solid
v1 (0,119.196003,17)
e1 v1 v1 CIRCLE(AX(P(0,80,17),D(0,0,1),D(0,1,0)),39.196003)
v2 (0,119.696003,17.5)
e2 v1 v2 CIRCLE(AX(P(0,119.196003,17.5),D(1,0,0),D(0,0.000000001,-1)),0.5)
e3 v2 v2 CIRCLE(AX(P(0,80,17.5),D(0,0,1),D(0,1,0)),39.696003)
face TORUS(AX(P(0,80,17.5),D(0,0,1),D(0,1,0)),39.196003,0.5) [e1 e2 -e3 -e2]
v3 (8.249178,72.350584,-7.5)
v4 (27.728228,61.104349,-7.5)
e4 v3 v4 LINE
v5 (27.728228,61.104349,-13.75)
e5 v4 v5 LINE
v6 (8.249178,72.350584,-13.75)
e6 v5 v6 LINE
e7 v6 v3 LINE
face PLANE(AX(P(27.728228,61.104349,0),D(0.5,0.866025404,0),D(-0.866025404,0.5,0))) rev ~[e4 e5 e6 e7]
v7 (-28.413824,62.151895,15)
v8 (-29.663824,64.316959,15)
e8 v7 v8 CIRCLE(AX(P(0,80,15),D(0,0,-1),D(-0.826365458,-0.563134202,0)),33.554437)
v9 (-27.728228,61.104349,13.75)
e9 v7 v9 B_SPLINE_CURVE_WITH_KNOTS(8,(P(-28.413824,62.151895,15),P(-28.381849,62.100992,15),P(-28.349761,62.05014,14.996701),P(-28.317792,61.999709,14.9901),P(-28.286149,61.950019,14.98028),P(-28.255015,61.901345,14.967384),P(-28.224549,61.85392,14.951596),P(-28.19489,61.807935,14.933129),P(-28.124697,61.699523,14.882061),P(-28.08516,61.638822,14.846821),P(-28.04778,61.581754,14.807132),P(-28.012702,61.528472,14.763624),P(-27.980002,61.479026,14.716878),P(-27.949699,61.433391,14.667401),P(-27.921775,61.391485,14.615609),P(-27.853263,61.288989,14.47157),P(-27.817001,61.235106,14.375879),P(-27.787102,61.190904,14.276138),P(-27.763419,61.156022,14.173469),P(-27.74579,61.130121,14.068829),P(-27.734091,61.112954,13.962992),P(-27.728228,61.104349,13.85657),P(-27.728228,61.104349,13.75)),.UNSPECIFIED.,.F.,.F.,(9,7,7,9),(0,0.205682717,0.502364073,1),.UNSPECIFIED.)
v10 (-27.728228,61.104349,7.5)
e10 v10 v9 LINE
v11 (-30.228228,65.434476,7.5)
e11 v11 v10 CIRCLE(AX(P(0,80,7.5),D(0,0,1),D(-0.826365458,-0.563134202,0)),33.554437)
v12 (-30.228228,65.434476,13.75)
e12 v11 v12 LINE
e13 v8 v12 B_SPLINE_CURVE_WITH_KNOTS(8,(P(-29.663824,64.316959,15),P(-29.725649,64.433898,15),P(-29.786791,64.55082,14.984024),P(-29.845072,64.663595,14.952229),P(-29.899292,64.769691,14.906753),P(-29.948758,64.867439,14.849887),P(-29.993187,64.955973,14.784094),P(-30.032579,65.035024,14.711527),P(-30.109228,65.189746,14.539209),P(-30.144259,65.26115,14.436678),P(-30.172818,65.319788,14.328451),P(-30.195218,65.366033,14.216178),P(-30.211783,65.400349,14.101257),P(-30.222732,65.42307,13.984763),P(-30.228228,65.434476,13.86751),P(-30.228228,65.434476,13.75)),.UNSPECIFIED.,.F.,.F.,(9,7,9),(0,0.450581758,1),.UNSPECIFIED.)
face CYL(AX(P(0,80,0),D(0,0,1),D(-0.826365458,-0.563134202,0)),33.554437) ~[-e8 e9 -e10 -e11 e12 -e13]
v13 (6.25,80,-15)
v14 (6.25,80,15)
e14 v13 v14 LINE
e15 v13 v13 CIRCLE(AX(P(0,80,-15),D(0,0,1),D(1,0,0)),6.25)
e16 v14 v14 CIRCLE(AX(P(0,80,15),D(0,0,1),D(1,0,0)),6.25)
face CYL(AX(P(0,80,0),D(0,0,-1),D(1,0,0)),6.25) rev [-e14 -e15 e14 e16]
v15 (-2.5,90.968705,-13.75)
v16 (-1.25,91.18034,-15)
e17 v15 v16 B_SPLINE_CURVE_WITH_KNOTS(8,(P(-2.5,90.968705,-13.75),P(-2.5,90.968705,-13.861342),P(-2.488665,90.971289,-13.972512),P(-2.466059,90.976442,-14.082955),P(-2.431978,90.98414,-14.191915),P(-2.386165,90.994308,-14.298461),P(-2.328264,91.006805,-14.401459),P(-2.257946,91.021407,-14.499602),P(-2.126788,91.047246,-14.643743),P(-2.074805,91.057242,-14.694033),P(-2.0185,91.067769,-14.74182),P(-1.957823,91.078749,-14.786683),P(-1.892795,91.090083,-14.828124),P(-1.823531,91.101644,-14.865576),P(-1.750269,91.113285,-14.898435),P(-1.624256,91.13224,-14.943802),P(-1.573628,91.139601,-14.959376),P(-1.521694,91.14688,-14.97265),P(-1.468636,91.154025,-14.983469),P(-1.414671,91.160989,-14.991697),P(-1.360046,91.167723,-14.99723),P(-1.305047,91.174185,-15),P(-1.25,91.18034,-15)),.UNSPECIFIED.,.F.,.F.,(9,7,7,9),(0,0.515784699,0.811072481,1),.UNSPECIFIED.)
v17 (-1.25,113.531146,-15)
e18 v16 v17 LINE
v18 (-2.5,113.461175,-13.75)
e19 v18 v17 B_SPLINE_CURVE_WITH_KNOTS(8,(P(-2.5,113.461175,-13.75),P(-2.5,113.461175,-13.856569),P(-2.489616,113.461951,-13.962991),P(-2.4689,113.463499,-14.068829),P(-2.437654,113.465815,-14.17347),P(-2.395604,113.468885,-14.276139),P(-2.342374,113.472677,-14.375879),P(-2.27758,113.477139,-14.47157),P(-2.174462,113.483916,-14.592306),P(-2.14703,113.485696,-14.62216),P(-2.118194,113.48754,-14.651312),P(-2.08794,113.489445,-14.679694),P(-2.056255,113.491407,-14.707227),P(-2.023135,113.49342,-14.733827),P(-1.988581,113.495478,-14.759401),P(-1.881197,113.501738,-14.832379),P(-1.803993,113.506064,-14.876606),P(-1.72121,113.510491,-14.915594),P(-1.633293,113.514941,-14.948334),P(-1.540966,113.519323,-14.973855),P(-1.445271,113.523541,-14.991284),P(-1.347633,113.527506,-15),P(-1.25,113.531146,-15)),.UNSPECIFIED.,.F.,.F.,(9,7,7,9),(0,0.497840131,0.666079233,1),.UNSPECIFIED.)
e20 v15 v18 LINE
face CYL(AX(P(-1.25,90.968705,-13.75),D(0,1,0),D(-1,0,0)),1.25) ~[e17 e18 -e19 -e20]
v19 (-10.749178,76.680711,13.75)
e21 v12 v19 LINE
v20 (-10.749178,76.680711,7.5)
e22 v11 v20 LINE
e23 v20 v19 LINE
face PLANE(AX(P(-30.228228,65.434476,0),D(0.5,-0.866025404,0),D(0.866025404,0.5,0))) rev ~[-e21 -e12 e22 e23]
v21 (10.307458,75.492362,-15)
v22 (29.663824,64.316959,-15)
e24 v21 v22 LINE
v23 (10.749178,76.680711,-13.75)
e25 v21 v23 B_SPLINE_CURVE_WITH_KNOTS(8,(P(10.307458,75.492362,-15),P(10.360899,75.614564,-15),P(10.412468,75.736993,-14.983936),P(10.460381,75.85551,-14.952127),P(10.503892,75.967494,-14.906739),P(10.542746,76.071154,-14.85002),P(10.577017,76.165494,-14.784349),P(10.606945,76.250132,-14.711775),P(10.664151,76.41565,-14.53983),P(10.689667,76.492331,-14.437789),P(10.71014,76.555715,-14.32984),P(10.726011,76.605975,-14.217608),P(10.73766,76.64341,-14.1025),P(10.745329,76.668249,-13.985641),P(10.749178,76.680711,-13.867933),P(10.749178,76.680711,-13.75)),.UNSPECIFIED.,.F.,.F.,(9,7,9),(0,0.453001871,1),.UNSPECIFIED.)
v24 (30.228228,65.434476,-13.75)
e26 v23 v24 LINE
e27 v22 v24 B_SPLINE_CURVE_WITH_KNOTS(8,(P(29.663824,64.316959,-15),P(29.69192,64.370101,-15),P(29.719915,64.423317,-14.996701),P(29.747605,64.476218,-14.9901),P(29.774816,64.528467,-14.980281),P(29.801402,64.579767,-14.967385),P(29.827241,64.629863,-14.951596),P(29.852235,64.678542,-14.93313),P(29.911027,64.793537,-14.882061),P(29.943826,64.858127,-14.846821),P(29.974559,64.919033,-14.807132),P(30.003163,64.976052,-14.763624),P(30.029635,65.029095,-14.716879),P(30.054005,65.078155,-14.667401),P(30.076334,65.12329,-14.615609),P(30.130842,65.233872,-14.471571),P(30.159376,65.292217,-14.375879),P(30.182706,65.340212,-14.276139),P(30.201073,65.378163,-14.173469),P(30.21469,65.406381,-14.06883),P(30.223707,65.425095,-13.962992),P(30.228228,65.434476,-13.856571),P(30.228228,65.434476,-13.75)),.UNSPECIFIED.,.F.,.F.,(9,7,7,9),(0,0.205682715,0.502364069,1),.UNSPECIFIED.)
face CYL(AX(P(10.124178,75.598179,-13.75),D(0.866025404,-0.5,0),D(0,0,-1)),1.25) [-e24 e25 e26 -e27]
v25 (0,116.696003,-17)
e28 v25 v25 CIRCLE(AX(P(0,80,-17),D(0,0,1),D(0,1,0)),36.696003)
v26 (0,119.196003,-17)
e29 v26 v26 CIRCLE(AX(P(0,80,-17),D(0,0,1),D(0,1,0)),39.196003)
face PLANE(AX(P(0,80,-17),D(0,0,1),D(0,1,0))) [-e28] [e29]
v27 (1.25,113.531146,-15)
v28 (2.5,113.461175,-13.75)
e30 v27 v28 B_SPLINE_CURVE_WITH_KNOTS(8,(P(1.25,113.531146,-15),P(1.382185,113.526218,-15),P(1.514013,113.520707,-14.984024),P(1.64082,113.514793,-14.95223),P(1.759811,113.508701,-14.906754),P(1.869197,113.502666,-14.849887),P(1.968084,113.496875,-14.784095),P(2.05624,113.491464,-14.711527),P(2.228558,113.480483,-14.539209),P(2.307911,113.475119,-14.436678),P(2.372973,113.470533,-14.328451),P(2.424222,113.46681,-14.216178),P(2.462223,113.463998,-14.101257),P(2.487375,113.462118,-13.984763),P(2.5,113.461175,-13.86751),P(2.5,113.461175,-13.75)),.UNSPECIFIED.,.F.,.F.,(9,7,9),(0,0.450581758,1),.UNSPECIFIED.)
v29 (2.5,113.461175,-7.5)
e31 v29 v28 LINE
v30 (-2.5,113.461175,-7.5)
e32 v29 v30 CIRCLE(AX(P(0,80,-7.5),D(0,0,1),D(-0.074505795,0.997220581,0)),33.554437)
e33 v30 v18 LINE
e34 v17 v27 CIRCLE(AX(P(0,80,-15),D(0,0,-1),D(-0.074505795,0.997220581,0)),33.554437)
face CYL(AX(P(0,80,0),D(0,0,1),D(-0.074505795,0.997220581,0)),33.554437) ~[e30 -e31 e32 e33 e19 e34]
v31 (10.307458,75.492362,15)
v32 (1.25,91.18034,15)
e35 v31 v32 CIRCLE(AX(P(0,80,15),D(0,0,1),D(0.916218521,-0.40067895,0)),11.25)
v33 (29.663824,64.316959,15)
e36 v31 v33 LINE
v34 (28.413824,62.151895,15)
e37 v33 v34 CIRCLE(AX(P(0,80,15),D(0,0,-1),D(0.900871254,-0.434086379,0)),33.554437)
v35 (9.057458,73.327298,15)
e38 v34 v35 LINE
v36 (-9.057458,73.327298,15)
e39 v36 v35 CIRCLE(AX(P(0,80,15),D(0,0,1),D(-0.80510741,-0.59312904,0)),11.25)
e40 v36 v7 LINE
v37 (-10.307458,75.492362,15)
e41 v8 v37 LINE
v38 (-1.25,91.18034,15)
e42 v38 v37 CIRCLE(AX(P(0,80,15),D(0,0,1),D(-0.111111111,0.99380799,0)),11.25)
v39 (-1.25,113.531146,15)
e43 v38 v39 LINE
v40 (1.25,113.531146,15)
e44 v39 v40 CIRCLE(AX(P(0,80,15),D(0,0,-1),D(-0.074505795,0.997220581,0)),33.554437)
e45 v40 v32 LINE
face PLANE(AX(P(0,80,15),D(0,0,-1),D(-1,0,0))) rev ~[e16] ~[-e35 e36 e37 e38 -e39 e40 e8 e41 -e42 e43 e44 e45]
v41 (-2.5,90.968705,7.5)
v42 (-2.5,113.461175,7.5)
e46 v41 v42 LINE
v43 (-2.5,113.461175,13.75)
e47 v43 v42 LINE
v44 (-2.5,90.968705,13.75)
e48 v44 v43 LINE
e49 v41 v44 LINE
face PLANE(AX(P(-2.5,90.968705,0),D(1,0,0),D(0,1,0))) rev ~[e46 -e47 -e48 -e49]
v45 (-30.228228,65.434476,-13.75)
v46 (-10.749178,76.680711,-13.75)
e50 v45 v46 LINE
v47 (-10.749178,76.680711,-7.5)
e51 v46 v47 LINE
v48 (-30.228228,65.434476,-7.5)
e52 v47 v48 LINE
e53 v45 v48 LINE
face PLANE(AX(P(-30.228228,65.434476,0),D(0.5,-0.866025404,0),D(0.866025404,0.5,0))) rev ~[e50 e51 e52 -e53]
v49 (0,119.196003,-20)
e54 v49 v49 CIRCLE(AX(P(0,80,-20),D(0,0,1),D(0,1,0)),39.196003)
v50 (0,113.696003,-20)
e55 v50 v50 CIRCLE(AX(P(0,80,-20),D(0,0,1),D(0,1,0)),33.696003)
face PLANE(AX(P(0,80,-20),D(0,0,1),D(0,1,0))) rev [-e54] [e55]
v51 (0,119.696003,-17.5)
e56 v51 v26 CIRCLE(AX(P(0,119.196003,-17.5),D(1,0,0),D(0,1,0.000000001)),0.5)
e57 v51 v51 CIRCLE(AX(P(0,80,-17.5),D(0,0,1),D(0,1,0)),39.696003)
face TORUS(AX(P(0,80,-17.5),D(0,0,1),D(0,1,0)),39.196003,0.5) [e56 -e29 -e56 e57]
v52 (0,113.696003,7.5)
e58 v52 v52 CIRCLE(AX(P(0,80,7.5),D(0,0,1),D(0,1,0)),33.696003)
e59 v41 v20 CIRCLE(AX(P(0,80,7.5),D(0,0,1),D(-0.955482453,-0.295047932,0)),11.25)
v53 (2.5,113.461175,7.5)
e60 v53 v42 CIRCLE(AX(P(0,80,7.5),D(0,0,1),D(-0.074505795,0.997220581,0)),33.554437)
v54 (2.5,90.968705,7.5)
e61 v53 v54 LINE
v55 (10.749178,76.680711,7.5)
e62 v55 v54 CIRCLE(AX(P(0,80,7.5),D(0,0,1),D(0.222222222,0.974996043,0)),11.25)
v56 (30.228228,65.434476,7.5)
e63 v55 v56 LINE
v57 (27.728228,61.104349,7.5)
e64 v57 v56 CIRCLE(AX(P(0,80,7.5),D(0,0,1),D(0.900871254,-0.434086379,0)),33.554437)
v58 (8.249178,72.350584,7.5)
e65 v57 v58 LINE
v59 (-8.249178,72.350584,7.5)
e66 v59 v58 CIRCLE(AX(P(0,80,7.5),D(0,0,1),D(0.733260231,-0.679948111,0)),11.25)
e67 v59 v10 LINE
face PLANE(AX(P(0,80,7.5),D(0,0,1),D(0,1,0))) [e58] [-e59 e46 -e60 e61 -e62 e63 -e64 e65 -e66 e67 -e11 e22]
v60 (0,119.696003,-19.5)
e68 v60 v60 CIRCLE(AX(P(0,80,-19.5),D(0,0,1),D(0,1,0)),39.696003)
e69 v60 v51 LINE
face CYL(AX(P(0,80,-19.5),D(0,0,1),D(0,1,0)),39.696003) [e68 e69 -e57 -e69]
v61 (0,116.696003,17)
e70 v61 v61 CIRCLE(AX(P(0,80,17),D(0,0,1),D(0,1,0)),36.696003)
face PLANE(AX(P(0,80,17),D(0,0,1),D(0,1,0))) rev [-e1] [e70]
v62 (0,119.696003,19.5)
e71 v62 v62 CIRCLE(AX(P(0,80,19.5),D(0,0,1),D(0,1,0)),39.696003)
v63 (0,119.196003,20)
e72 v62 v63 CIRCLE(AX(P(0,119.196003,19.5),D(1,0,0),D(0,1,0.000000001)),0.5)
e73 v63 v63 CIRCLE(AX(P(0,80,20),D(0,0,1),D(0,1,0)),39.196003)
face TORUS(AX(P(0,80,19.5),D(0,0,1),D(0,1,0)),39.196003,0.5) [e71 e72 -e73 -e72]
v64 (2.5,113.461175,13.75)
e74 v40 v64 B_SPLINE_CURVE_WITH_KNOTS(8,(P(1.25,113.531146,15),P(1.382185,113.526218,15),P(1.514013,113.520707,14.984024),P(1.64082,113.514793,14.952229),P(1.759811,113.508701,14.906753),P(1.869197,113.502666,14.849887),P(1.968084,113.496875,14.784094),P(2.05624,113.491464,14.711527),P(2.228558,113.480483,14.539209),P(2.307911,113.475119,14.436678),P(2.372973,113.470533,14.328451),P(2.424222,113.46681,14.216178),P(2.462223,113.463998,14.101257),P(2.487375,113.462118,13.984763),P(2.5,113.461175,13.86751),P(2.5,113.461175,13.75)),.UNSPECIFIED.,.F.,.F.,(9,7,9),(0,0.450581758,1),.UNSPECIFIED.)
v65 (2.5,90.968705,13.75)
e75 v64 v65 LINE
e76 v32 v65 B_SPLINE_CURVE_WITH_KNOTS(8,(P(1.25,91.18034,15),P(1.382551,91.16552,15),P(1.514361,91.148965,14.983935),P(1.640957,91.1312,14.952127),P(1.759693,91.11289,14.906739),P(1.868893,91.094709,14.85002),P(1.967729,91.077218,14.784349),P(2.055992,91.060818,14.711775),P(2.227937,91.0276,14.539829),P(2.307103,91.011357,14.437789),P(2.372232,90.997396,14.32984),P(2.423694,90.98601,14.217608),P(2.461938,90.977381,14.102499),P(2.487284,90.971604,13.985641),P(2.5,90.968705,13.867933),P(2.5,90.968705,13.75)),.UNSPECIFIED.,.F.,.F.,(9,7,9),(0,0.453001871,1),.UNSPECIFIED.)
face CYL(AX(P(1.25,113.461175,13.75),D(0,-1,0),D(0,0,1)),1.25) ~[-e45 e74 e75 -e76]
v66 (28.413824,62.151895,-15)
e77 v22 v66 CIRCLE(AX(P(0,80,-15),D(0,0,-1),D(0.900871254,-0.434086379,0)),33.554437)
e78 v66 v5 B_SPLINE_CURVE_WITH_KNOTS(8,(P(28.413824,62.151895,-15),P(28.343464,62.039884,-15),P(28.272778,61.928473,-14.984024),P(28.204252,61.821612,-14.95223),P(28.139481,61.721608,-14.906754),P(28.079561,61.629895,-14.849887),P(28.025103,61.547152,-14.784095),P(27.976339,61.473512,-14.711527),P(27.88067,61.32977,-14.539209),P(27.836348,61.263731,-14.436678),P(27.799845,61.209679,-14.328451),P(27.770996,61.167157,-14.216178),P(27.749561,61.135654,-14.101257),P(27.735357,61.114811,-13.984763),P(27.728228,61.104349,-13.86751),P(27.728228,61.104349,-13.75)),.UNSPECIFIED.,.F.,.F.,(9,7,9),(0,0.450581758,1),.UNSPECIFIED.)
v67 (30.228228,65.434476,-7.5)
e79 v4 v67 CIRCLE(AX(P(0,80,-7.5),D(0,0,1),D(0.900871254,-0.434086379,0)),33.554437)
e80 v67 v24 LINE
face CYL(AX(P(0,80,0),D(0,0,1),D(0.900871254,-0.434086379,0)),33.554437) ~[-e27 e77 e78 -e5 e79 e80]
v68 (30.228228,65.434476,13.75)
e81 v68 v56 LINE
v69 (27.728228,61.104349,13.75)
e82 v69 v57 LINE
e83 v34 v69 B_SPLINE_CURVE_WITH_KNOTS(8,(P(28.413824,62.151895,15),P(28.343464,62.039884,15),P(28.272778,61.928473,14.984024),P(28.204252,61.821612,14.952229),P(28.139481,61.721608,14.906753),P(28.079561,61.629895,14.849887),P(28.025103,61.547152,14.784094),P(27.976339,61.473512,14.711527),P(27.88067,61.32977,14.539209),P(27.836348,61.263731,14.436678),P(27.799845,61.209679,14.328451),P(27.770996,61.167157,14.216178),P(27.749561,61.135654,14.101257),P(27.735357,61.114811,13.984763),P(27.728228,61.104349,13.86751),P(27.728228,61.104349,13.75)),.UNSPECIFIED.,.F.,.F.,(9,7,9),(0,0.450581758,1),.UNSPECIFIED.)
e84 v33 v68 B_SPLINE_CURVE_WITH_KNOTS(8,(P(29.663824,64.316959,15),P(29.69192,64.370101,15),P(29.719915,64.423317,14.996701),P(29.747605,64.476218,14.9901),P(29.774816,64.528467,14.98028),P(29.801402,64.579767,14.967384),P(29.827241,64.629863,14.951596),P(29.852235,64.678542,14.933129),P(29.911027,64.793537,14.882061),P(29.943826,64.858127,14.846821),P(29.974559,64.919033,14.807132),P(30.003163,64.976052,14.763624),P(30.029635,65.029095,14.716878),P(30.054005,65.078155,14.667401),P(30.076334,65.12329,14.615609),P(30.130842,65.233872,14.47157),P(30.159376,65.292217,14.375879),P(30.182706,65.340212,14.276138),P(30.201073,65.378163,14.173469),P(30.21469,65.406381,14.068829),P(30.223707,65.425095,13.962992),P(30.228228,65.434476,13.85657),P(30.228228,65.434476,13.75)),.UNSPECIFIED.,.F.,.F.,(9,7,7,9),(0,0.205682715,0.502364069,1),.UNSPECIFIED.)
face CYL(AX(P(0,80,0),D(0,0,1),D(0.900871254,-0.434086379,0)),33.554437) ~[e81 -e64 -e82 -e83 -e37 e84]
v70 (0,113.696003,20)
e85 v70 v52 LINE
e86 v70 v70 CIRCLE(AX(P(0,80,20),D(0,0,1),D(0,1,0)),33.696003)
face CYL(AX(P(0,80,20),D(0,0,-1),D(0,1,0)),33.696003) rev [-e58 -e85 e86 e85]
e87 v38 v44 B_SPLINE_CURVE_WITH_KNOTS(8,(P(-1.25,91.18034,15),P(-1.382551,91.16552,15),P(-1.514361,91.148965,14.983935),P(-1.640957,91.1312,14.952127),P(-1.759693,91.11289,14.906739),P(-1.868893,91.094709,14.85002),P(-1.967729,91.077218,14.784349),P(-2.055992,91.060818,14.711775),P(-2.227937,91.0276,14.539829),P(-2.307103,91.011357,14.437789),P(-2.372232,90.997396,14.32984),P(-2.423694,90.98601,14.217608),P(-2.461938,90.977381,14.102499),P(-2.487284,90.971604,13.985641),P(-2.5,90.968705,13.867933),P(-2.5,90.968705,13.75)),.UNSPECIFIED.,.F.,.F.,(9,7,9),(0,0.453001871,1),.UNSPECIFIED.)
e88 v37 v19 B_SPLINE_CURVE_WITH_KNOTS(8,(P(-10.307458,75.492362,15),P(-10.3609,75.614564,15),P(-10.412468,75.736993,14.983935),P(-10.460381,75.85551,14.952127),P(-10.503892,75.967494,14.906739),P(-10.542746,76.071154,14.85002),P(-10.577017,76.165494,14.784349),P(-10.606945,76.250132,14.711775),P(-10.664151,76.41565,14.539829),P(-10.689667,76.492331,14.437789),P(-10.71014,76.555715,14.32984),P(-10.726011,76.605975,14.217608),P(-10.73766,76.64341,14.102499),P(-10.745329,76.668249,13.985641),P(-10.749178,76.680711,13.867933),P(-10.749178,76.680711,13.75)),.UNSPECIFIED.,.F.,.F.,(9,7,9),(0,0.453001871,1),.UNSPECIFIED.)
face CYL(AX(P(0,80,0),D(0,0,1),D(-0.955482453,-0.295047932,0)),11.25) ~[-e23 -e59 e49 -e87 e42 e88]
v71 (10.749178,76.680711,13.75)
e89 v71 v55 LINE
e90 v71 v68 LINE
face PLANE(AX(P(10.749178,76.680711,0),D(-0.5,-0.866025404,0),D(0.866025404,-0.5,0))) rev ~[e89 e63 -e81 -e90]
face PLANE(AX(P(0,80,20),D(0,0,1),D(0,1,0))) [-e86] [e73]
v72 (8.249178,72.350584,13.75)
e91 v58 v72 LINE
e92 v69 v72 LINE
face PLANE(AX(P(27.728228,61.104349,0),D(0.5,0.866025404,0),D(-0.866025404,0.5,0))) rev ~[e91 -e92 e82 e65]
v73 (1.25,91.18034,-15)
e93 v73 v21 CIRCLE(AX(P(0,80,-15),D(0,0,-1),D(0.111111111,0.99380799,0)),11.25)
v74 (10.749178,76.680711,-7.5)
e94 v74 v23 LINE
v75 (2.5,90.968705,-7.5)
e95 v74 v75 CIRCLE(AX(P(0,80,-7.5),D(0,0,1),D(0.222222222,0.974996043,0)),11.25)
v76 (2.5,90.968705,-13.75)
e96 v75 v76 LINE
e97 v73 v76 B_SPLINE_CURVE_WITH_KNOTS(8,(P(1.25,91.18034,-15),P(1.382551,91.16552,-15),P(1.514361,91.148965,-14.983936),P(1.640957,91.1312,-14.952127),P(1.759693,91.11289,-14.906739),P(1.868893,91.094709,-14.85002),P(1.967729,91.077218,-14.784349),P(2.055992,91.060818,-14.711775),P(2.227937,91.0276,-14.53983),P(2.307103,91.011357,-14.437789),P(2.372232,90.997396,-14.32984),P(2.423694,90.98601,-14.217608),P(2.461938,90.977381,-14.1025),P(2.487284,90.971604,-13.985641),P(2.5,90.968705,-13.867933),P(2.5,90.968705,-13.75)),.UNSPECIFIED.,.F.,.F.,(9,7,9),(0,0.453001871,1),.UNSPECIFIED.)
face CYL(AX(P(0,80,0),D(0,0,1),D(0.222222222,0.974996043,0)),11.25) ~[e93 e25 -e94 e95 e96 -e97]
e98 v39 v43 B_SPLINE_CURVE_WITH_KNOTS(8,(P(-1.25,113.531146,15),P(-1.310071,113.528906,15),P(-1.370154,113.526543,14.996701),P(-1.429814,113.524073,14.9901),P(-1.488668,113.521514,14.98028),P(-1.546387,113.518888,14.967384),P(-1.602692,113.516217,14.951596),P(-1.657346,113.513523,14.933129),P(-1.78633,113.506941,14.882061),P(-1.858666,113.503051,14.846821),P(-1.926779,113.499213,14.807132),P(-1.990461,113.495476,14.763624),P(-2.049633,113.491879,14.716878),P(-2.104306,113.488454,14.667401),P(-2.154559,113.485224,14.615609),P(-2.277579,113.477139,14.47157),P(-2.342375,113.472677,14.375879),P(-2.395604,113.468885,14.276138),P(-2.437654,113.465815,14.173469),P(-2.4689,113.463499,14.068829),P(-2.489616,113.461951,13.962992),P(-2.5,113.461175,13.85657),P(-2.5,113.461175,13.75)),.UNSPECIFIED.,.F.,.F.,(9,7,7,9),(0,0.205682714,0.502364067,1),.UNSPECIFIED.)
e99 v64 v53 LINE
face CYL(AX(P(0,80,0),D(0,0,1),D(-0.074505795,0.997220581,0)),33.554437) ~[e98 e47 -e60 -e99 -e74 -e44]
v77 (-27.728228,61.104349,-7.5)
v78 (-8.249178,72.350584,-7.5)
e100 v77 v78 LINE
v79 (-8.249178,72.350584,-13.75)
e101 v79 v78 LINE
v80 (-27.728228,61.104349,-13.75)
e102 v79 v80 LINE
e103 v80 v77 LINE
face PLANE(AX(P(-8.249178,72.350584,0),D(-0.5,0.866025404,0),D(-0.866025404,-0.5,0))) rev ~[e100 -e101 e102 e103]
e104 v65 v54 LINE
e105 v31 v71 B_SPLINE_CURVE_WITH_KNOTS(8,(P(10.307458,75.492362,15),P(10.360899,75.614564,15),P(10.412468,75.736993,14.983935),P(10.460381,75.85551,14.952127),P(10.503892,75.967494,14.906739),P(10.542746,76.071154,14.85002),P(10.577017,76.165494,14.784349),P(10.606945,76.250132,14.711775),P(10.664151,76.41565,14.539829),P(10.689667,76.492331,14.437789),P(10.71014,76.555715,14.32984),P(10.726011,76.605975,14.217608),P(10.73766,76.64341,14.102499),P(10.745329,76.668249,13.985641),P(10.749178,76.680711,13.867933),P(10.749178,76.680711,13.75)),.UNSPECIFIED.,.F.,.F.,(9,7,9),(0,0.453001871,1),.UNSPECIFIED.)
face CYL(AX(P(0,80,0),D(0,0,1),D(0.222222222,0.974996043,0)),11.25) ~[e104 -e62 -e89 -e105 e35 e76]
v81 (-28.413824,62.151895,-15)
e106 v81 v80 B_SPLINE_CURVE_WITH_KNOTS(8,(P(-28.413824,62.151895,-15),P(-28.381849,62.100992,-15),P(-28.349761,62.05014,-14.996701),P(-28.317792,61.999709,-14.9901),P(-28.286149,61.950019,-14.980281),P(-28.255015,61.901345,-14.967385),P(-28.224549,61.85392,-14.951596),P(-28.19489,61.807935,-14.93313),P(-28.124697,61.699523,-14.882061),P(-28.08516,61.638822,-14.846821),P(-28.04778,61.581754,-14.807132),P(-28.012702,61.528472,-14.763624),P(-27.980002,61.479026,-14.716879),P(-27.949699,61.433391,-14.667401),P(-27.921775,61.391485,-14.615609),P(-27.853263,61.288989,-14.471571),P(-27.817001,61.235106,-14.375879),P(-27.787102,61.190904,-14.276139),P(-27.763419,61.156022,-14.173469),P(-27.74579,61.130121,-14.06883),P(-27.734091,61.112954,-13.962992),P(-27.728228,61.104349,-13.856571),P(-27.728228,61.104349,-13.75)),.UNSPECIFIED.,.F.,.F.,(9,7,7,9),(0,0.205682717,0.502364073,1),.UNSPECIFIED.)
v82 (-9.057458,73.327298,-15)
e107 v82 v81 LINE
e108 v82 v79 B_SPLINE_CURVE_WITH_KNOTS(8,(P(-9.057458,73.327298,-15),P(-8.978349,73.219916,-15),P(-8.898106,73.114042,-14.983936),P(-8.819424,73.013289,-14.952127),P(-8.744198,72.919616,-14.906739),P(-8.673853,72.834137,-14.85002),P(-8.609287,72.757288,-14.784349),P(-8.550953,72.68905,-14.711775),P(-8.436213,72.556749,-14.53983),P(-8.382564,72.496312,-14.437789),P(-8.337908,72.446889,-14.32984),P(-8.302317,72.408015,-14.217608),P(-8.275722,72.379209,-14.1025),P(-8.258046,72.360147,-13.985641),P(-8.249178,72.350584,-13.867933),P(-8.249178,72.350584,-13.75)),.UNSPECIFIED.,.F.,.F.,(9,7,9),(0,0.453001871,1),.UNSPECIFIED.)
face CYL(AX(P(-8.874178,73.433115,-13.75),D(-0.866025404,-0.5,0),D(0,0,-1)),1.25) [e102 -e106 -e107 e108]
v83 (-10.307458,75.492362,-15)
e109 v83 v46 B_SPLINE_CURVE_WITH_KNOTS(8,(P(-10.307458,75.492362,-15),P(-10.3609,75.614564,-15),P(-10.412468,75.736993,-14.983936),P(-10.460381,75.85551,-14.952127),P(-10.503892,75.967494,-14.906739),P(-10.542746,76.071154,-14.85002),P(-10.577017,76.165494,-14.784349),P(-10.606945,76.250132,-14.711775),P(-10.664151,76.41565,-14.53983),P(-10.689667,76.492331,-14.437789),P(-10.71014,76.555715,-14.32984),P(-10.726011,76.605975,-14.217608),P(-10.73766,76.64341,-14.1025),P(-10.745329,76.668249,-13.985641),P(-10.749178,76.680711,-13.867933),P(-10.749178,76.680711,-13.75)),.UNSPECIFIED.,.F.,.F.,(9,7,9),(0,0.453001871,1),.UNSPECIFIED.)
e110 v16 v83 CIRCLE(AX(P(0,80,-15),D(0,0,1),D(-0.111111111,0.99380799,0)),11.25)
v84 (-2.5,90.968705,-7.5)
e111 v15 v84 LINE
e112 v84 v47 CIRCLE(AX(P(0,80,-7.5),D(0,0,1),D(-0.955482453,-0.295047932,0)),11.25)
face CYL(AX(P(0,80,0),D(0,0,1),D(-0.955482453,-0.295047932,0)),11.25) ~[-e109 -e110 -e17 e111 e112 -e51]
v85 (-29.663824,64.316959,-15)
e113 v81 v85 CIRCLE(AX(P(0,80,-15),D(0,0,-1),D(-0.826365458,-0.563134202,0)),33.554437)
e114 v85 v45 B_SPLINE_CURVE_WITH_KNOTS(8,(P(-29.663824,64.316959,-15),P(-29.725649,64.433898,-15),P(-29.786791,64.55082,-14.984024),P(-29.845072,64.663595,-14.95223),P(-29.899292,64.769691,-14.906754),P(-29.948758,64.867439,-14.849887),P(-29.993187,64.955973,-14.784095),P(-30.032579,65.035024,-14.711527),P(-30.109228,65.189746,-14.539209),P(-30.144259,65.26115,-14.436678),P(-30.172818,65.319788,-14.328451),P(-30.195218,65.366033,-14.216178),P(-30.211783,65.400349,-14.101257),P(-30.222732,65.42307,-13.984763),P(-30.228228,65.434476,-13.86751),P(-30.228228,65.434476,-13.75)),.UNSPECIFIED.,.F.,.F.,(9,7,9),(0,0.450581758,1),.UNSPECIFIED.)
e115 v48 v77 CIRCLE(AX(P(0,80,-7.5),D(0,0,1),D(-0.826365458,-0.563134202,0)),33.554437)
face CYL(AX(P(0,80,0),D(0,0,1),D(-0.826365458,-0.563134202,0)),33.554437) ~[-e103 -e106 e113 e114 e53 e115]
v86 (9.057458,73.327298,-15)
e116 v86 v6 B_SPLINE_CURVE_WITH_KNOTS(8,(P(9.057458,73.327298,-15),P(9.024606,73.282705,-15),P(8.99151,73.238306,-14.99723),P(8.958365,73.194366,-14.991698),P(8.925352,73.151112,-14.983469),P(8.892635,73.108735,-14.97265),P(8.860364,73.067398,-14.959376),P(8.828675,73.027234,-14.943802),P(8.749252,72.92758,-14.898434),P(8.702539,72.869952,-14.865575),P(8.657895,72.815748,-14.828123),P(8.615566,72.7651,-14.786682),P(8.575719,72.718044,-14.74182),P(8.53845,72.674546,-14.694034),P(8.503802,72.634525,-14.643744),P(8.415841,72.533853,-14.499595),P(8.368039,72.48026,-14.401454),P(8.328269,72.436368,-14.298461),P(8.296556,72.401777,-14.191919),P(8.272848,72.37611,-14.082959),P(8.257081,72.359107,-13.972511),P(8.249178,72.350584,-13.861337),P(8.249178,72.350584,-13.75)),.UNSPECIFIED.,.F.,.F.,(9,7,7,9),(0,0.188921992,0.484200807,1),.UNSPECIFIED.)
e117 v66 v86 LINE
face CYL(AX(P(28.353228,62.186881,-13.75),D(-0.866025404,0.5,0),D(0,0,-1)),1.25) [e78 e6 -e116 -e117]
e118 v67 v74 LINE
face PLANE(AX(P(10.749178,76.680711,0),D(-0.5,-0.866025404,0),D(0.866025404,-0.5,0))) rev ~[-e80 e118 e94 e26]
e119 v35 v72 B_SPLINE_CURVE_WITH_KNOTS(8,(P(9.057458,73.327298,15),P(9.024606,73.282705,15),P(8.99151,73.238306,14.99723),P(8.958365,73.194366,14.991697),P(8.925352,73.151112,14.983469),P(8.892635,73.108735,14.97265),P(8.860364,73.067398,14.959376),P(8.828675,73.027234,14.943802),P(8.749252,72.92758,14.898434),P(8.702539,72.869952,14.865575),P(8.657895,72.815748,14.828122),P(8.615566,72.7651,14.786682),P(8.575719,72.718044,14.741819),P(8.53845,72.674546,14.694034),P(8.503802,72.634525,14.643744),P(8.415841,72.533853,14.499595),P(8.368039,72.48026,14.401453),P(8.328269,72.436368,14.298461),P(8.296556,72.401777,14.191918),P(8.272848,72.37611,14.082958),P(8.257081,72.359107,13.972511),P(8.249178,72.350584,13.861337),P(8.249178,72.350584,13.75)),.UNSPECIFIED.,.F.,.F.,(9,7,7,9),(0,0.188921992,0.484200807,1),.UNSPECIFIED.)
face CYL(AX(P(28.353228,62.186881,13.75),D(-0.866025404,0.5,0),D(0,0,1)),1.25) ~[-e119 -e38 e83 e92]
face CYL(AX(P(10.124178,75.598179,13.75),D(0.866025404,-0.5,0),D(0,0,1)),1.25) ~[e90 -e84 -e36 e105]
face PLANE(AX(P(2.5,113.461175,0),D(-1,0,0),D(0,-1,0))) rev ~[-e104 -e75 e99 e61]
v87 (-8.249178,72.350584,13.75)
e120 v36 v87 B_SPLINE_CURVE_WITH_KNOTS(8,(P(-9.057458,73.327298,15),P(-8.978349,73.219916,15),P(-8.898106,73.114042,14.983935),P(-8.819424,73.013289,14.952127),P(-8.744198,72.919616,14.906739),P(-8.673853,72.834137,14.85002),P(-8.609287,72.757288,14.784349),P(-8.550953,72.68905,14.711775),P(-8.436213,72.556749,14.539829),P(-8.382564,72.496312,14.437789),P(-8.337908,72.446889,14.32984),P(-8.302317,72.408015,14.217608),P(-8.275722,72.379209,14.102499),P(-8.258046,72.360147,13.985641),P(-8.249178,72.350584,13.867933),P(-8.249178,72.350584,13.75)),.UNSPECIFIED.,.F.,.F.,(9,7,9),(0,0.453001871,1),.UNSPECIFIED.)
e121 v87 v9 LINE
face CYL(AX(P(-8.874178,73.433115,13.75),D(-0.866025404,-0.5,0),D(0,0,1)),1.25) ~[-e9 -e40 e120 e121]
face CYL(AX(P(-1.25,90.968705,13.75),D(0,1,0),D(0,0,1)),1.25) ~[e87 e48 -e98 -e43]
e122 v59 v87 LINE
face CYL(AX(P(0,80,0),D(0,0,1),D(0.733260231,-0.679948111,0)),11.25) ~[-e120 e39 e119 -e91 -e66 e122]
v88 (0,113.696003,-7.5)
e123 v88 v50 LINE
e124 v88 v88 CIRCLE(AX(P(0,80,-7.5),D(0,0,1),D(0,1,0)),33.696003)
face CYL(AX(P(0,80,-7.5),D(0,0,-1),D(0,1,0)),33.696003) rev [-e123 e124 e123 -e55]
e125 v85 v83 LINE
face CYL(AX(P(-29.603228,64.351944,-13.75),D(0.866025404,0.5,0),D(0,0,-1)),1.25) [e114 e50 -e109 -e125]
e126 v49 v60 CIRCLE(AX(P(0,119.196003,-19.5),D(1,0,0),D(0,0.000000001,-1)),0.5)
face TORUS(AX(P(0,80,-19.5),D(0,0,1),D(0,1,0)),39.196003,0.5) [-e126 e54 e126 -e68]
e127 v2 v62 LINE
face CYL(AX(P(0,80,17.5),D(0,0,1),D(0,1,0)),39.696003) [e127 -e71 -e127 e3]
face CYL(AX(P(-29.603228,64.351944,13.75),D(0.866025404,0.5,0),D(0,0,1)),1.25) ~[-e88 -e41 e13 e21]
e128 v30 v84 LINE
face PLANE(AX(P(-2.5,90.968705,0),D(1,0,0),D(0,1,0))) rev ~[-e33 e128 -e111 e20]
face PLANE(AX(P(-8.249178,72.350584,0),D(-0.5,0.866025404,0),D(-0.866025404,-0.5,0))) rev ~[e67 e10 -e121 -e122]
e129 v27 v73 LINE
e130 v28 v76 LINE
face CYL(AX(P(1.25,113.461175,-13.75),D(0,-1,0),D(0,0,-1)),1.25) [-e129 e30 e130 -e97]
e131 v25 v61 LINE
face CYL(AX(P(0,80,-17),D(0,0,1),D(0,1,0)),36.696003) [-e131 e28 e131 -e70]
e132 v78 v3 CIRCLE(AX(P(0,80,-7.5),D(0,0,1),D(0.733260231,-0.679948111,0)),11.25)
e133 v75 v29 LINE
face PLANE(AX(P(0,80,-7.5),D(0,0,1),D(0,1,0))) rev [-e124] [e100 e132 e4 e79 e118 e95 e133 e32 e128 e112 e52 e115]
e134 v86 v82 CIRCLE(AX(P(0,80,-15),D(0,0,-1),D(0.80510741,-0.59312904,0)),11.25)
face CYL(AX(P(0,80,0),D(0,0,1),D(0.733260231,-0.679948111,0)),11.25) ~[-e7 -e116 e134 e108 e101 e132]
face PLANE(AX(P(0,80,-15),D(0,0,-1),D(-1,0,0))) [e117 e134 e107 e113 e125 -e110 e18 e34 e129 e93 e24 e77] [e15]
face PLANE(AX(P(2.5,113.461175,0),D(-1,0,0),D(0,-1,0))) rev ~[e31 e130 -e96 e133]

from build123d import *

# Parameters (mm, degrees)
SKETCH4_R           = 12.5
BOSS_EXTRUDE1_DEPTH = 30
SKETCH6_R           = 12.5
CUT_EXTRUDE1_DEPTH  = 71
FILLET1_R           = 2.5
SCALE1_SCALE        = 0.5


with BuildPart() as part:
    # Sketch3 → Revolve1 (revolve)
    with BuildSketch(Plane(origin=(0, 0, 0), x_dir=(0, 0, -1), z_dir=(1, 0, 0))):
        with BuildLine():
            Line((-40, 158.392005271), (-40, 147.392005271))
            Line((-40, 147.392005271), (-15, 147.392005271))
            Line((-15, 147.392005271), (-15, 80))
            Line((-15, 80), (0, 80))
            Line((0, 80), (15, 80))
            Line((15, 80), (15, 147.392005271))
            Line((15, 147.392005271), (40, 147.392005271))
            Line((40, 147.392005271), (40, 158.392005271))
            ThreePointArc((40, 158.392005271), (39.707106781, 159.099112052), (39, 159.392005271))
            Line((39, 159.392005271), (35, 159.392005271))
            ThreePointArc((35, 159.392005271), (34.292893219, 159.099112052), (34, 158.392005271))
            Line((34, 158.392005271), (34, 153.392005271))
            Line((34, 153.392005271), (-34, 153.392005271))
            Line((-34, 153.392005271), (-34, 158.392005271))
            ThreePointArc((-34, 158.392005271), (-34.292893219, 159.099112052), (-35, 159.392005271))
            Line((-35, 159.392005271), (-39, 159.392005271))
            ThreePointArc((-39, 159.392005271), (-39.707106781, 159.099112052), (-40, 158.392005271))
        make_face()
    revolve(axis=Axis((0, 80, 0), (0, 0, 1)))

    # Sketch4 → Boss-Extrude1 (add, symmetric)
    with BuildSketch(Plane.XY):
        with BuildLine():
            Line((-5, 101.937410968), (-5, 146.922350015))
            ThreePointArc((-5, 146.922350015), (0, 147.108873716), (5, 146.922350015))
            Line((5, 146.922350015), (5, 101.937410968))
            ThreePointArc((5, 101.937410968), (19.485571585, 91.25), (21.498355192, 73.361421535))
            Line((21.498355192, 73.361421535), (60.456455194, 50.868952012))
            ThreePointArc((60.456455194, 50.868952012), (58.117989458, 46.445563142), (55.456455194, 42.208697974))
            Line((55.456455194, 42.208697974), (16.498355192, 64.701167497))
            ThreePointArc((16.498355192, 64.701167497), (0, 57.5), (-16.498355192, 64.701167497))
            Line((-16.498355192, 64.701167497), (-55.456455194, 42.208697974))
            ThreePointArc((-55.456455194, 42.208697974), (-58.117989458, 46.445563142), (-60.456455194, 50.868952012))
            Line((-60.456455194, 50.868952012), (-21.498355192, 73.361421535))
            ThreePointArc((-21.498355192, 73.361421535), (-19.485571585, 91.25), (-5, 101.937410968))
        make_face()
        with Locations((0, 80)):
            Circle(SKETCH4_R, mode=Mode.SUBTRACT)
    extrude(amount=BOSS_EXTRUDE1_DEPTH, both=True)

    # Sketch6 → Cut-Extrude1 (cut, through all)
    with BuildSketch(Plane.XY.offset(30)):
        with Locations((0, 80)):
            Circle(SKETCH6_R)
    extrude(amount=-CUT_EXTRUDE1_DEPTH, mode=Mode.SUBTRACT)

    # Fillet1
    fillet1_edges = [part.edges().sort_by_distance(p)[0] for p in [
        (-40.977405193, 62.115186773, -30),
        (-35.977405193, 53.454932735, -30),
        (35.977405193, 53.454932735, -30),
        (40.977405193, 62.115186773, -30),
        (5, 124.429880492, -30),
        (-5, 124.429880492, -30),
        (-40.977405193, 62.115186773, 30),
        (-35.977405193, 53.454932735, 30),
        (35.977405193, 53.454932735, 30),
        (40.977405193, 62.115186773, 30),
        (5, 124.429880492, 30),
        (-5, 124.429880492, 30),
    ]]
    fillet(fillet1_edges, radius=FILLET1_R)


with BuildPart() as part_1:
    # Scale1: scaled about (-4.6e-08, 79.999999971, -2.91e-07)
    add(part.part.scale(SCALE1_SCALE).moved(Location((-2.3e-08, 39.999999985, -1.45e-07))))


solid = part_1.part
